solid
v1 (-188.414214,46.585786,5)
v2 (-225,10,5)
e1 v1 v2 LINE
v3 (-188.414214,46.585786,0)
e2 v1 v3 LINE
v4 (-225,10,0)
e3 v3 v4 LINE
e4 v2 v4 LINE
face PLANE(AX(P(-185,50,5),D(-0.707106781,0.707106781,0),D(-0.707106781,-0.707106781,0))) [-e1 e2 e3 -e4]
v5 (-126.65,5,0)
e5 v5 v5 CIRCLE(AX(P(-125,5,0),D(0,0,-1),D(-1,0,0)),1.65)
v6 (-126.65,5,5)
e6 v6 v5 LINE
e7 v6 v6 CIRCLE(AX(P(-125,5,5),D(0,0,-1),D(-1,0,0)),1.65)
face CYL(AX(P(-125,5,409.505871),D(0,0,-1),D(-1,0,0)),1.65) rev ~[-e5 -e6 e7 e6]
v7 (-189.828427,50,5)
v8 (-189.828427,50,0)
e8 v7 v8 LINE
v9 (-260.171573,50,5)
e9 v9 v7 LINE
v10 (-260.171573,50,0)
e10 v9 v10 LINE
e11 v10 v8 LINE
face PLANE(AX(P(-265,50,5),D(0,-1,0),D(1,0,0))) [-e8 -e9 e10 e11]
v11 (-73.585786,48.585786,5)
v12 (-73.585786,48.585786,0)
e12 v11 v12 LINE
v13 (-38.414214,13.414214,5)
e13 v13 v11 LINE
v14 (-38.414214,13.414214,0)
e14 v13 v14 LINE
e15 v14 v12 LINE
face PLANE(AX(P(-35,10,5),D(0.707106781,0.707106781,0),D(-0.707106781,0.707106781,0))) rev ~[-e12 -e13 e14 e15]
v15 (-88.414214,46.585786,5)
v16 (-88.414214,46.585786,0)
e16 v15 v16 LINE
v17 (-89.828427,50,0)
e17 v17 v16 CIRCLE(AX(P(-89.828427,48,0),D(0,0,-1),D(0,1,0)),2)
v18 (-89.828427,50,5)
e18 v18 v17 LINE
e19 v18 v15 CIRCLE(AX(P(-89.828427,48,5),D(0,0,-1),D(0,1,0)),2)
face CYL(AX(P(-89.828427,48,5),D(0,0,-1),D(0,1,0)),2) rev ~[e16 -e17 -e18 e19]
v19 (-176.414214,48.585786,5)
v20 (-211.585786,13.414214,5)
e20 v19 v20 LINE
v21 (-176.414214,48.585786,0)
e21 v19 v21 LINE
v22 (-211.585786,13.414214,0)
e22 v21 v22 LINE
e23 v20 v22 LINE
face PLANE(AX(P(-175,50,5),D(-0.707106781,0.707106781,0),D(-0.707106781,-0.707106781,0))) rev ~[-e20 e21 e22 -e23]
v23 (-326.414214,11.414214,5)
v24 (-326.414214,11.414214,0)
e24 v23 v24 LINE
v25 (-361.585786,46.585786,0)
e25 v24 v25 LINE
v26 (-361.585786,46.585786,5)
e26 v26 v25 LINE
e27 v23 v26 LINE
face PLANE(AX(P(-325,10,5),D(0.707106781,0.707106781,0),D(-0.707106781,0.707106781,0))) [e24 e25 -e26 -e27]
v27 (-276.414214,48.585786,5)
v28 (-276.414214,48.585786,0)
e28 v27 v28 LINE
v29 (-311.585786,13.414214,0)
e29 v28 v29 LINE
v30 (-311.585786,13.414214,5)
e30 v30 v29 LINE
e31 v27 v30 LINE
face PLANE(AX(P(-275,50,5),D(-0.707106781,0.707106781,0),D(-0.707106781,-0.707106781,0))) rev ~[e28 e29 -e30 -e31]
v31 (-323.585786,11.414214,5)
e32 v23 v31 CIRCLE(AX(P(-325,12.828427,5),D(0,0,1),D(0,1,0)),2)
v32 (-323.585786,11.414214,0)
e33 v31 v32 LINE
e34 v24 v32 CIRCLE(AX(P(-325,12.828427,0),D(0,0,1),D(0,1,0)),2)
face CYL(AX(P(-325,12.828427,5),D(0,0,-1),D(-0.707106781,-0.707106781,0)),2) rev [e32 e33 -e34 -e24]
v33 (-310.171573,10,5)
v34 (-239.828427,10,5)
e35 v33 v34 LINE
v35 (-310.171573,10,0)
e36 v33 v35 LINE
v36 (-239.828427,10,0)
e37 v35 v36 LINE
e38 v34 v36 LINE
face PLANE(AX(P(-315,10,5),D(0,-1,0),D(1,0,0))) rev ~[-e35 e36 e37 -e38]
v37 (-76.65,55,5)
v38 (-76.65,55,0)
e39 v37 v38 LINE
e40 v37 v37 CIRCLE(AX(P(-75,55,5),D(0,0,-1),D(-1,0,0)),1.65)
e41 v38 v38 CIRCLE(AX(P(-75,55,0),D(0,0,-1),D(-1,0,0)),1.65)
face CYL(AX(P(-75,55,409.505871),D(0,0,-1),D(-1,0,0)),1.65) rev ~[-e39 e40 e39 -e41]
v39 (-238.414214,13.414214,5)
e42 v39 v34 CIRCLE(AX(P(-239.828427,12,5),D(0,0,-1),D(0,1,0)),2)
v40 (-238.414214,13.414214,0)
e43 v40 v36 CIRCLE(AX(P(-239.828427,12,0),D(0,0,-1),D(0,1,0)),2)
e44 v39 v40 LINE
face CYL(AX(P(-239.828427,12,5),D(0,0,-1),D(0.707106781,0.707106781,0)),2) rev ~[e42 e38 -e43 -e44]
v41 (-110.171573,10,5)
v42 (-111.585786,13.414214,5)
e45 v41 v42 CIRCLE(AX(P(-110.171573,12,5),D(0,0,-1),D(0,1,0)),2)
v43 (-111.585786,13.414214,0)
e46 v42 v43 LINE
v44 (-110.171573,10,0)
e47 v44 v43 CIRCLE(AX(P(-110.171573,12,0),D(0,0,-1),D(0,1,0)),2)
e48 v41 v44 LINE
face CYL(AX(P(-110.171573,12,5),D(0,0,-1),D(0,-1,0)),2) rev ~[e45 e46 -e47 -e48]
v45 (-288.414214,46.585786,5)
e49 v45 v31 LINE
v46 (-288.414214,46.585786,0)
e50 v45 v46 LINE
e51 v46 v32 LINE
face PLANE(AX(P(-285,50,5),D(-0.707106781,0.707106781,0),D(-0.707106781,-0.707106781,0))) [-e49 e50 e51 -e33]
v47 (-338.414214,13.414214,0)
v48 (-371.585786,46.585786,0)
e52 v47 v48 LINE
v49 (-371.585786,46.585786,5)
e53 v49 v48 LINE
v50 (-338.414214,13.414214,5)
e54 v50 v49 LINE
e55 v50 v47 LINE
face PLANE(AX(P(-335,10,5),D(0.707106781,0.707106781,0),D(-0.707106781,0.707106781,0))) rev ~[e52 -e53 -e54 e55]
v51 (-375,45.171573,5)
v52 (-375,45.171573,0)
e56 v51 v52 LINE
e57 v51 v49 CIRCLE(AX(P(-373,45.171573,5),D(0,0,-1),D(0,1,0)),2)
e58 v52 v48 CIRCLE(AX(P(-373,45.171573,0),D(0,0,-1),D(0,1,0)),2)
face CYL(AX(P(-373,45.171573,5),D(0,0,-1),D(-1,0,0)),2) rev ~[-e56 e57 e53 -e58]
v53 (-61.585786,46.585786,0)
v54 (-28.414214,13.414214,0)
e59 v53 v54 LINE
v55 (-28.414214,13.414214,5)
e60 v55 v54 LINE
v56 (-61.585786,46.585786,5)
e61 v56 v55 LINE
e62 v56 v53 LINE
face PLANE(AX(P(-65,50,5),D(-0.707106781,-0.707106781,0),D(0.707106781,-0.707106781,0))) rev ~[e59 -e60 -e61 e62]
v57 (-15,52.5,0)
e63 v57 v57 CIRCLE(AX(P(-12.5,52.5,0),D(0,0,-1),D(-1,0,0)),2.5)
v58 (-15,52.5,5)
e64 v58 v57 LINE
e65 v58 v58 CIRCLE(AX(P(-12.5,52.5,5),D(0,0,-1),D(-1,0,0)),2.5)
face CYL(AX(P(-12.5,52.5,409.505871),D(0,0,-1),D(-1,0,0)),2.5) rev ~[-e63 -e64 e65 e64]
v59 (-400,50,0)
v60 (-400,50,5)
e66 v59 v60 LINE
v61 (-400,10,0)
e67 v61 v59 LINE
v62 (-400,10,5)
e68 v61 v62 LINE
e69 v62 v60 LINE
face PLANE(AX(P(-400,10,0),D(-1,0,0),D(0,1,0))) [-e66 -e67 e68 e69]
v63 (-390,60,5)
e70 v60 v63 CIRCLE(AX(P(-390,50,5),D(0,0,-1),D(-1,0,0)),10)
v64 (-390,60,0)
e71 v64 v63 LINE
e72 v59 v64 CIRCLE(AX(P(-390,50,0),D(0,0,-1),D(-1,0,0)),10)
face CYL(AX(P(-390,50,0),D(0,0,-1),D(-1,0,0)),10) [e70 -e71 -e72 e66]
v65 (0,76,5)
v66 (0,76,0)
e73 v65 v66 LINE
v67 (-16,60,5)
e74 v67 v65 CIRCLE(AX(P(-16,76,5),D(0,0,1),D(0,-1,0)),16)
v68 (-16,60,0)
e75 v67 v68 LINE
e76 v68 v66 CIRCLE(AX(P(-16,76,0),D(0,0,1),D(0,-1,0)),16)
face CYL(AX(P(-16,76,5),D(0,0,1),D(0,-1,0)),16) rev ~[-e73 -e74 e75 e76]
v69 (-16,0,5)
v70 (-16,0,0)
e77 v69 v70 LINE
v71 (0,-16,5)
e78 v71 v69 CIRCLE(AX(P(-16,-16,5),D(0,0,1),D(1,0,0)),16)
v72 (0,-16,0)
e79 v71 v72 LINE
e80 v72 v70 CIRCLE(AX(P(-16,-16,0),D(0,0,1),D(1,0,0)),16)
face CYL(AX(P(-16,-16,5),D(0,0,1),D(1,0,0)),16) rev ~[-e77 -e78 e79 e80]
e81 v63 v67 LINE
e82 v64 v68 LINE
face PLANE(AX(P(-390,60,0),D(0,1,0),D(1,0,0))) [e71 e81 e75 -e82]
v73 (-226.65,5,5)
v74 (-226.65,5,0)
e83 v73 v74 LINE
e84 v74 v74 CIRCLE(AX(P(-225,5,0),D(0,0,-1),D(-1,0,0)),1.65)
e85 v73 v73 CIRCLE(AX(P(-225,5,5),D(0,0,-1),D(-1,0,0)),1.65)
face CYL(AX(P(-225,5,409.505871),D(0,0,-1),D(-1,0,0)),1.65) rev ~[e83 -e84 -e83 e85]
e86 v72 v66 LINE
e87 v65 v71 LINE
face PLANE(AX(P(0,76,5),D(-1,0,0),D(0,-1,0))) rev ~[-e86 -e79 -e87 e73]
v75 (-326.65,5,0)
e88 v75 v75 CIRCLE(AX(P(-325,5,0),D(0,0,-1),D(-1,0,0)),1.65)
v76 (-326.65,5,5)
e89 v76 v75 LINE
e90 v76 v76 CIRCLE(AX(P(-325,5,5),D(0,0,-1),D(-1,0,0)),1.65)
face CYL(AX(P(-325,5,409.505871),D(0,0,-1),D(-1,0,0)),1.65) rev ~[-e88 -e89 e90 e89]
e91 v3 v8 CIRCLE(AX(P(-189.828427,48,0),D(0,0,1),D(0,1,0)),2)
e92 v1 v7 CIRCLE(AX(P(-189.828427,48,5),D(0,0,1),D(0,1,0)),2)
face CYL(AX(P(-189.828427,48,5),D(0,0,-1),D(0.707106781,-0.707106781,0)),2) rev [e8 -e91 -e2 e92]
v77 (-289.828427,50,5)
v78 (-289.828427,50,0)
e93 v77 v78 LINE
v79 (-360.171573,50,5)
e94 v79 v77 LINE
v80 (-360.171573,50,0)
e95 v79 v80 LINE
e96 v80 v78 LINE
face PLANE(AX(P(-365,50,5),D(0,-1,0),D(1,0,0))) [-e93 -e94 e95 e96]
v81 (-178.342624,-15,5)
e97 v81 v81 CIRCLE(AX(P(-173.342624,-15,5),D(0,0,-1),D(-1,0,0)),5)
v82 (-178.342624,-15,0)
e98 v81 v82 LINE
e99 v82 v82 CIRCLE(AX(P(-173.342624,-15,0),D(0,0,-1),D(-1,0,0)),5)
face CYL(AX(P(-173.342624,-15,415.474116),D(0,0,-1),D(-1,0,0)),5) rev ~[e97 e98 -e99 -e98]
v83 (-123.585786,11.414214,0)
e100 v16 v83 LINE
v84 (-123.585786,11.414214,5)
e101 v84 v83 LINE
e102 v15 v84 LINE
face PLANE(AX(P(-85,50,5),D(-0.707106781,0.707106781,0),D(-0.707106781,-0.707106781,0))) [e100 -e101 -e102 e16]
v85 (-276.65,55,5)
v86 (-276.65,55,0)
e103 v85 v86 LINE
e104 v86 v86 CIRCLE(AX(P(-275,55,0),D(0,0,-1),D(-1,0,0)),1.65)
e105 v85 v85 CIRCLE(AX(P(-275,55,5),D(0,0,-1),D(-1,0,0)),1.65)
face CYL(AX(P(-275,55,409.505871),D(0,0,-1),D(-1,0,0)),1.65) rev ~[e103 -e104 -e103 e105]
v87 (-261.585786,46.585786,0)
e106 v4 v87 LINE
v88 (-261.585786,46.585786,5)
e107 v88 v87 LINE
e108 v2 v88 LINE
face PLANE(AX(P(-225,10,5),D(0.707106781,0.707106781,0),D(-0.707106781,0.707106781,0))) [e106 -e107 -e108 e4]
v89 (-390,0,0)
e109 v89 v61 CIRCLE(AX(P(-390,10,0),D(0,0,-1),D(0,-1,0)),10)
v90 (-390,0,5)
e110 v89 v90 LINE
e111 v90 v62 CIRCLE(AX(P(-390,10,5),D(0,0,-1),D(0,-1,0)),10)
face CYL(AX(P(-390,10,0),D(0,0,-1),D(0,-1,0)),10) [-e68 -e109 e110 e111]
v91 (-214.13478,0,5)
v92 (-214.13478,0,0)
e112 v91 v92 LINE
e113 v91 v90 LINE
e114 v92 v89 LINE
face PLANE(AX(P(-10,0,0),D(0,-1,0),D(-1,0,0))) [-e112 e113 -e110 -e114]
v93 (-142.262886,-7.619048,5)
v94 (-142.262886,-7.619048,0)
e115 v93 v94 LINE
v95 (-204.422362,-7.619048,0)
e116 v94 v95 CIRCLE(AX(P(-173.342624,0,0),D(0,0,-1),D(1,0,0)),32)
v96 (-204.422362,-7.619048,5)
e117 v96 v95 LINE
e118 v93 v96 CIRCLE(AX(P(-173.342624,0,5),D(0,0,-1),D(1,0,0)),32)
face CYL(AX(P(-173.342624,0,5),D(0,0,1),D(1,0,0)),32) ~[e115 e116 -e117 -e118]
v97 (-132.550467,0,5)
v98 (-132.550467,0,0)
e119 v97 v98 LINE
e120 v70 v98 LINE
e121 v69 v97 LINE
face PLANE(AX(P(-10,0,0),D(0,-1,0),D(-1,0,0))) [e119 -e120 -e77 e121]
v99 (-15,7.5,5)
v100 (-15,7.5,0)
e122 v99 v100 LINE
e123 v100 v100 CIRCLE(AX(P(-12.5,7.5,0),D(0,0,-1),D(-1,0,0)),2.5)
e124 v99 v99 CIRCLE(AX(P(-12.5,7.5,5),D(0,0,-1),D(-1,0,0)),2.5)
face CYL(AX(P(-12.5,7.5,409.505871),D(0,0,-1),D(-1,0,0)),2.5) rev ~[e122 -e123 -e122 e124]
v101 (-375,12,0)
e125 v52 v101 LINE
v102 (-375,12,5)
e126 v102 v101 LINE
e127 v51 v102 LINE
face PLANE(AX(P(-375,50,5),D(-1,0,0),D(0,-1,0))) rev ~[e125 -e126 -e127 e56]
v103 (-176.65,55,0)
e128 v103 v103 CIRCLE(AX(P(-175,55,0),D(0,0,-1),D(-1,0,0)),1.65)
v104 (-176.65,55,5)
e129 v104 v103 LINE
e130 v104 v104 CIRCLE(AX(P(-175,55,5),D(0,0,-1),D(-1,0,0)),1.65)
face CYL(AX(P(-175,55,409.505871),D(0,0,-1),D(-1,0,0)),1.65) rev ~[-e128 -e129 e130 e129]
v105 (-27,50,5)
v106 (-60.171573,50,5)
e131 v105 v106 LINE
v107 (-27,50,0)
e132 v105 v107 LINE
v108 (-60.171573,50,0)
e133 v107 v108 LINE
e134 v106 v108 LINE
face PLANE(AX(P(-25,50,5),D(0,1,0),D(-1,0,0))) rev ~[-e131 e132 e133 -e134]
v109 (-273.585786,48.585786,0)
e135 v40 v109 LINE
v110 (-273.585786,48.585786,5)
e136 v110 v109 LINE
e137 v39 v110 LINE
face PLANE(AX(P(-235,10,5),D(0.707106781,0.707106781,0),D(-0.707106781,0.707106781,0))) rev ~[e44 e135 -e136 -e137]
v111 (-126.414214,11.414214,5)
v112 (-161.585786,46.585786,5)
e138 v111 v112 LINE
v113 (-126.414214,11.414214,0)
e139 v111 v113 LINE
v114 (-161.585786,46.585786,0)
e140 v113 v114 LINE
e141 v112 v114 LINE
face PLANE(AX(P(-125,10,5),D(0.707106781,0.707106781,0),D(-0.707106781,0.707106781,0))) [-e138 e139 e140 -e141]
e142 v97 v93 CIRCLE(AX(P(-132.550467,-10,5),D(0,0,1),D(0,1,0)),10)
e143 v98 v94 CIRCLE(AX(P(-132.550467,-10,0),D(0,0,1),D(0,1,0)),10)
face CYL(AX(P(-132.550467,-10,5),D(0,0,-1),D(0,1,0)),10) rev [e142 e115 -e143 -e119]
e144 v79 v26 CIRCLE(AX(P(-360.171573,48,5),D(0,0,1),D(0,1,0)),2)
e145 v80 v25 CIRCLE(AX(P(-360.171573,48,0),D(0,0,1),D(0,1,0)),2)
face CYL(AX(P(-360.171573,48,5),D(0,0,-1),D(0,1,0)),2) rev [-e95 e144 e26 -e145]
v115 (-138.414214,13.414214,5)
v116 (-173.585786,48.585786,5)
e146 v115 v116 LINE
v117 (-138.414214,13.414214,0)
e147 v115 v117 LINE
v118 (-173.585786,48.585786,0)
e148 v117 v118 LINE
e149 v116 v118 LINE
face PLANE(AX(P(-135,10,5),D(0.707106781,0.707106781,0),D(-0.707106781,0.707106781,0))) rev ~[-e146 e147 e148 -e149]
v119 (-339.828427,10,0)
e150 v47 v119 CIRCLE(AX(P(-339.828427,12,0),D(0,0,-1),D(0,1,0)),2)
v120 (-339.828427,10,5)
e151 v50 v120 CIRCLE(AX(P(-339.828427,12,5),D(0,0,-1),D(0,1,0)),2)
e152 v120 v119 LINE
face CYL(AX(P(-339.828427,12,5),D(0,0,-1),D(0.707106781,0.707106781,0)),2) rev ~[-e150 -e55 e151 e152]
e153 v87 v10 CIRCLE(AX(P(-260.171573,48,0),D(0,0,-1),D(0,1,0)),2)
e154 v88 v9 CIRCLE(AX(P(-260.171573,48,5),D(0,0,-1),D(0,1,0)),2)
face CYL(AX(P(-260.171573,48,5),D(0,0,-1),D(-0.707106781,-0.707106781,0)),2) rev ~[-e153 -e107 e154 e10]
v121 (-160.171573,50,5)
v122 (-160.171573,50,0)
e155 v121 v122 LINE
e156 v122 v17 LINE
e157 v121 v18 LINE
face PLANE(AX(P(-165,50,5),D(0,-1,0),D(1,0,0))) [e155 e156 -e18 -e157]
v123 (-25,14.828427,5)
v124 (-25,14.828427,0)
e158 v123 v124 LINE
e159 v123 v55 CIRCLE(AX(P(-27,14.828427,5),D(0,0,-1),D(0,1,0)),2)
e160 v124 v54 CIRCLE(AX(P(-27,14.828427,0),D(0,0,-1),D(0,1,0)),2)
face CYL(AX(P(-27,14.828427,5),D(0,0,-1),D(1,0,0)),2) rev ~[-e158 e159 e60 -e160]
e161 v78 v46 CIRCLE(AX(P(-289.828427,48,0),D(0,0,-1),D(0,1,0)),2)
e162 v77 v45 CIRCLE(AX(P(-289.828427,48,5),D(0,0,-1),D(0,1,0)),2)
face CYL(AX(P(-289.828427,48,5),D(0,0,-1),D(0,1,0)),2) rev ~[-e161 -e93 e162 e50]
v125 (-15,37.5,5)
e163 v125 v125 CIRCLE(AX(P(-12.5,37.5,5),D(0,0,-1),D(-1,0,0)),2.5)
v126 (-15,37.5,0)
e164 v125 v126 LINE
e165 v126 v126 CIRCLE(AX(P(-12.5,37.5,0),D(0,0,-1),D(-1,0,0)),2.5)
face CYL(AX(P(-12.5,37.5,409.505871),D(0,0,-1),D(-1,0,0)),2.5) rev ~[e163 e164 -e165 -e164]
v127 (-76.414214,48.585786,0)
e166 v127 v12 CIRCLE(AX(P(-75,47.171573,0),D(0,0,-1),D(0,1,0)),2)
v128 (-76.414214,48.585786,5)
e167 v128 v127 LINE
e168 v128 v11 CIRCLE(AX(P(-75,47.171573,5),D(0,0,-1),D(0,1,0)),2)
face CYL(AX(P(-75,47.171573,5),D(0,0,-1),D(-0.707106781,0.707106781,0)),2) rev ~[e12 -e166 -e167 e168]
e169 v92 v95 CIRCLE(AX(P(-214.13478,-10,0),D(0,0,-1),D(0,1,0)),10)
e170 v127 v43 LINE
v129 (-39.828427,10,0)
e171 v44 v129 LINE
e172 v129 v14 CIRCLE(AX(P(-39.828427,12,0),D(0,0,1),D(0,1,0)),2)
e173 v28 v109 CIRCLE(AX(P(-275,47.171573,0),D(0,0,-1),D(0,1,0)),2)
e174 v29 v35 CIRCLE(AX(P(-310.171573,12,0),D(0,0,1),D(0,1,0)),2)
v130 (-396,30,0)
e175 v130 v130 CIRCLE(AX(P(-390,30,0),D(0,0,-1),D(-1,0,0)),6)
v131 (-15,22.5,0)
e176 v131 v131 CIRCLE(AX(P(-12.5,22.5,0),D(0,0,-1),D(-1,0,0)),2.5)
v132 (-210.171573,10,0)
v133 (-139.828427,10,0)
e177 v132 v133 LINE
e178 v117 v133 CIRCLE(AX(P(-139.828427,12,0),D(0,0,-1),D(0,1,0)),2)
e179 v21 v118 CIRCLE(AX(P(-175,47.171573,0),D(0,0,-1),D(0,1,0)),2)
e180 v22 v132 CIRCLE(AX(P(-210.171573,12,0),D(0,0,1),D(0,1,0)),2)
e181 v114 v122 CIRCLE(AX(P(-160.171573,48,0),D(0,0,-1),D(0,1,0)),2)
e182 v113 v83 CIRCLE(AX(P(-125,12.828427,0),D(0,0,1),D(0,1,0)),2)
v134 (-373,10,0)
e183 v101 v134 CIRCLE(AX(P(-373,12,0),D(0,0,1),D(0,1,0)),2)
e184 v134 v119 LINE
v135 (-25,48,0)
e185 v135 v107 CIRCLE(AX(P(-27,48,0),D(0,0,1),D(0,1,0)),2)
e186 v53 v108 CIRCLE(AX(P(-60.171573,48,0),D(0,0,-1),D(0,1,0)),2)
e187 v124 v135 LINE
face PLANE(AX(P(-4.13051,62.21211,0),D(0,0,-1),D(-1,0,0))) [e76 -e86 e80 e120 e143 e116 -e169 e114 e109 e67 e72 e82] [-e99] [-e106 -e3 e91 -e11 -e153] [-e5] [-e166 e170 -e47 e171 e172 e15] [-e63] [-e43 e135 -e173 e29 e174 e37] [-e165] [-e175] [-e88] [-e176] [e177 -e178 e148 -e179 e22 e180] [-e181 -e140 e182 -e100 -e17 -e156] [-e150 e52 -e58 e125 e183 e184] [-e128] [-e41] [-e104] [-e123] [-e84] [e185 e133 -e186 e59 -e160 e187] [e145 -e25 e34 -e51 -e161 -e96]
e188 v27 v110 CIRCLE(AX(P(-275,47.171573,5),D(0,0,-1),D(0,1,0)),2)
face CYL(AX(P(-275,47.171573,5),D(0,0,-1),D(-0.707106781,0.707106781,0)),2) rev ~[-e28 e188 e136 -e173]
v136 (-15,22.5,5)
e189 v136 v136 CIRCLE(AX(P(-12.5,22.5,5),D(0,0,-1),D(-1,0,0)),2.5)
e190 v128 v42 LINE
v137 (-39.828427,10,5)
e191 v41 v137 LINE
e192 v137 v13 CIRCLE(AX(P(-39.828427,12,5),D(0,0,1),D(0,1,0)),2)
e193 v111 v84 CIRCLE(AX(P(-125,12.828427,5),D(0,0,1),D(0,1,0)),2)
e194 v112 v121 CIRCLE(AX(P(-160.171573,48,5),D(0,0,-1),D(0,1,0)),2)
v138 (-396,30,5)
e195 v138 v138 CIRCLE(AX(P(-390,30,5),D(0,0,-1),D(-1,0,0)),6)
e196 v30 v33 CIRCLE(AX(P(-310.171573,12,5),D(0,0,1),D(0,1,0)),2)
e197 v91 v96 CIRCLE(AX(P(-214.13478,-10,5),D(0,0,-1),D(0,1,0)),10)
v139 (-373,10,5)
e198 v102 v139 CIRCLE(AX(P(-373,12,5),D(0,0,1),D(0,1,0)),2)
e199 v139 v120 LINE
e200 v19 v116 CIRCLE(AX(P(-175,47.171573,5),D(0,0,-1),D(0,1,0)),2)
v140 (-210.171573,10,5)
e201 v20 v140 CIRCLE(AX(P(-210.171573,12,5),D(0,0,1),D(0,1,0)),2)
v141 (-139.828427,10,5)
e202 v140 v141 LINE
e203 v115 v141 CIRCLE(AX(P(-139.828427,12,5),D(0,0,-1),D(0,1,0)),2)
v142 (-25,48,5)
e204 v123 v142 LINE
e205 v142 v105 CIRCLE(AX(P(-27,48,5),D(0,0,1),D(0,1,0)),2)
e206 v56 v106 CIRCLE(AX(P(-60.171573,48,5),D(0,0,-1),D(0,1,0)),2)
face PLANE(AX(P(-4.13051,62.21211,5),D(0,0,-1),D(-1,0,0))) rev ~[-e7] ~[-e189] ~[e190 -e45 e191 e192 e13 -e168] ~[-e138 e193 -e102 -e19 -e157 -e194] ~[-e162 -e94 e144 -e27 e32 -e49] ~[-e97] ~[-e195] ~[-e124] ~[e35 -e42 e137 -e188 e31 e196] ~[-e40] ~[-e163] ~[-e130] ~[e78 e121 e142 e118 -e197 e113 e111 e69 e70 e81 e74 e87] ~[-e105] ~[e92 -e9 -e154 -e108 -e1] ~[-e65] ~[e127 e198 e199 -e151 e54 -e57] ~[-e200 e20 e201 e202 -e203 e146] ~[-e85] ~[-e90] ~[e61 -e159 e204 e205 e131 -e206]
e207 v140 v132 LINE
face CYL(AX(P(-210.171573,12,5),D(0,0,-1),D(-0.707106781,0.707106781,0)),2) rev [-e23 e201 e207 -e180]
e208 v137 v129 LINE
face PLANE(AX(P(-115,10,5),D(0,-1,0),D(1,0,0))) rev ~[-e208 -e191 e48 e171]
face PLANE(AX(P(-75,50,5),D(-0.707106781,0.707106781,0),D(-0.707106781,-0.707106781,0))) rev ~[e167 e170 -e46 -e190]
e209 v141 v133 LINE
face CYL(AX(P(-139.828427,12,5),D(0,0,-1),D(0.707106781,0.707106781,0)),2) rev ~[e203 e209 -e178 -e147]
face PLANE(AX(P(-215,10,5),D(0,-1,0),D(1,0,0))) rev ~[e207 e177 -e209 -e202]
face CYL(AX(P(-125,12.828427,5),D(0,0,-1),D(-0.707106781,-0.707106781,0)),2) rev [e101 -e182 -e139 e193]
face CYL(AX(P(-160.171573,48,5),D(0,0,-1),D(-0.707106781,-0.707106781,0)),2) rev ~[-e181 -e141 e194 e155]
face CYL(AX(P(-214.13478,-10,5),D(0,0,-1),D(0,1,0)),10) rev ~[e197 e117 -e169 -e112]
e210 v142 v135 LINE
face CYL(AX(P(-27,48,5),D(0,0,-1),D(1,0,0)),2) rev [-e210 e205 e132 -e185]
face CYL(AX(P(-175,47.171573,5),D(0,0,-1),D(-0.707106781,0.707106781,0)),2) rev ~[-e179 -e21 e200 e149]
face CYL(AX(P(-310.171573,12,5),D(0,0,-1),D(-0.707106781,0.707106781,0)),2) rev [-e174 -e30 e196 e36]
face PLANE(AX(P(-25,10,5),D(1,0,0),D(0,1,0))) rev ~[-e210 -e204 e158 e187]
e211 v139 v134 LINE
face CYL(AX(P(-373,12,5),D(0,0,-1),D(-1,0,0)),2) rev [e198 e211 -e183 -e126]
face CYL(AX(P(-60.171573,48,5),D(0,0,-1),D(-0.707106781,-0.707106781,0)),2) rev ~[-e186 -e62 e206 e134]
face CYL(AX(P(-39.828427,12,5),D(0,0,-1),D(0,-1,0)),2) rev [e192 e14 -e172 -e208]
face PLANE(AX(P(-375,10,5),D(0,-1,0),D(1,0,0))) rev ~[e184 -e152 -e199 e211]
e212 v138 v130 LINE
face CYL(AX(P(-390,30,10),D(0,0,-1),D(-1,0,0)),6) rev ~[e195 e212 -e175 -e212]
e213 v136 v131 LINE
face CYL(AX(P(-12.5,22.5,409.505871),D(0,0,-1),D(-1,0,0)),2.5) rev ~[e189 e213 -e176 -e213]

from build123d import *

# Parameters (mm, degrees)
BOSS_EXTRUDE1_DEPTH        = 5
CUT_EXTRUDE2_DEPTH         = 5
CUT_EXTRUDE3_REACH         = 7
FILLET1_R                  = 2
M6X1_0_TAPPED_HOLE1_D      = 5
M4X0_7_TAPPED_HOLE1_D      = 3.3
BOSS_EXTRUDE2_DEPTH        = 5
FILLET2_R                  = 10
F_10_0MM_DOWEL_HOLE1_D     = 10
BOSS_EXTRUDE3_DEPTH        = 5
F_12_0MM_DOWEL_HOLE1_D     = 12
F_12_0MM_DOWEL_HOLE1_DEPTH = 5


with BuildPart() as part:
    # Sketch1 → Boss-Extrude1 (new body)
    with BuildSketch(Plane.XY):
        with BuildLine():
            Line((-10, 0), (-390, 0))
            ThreePointArc((-390, 0), (-397.071067812, 2.928932188), (-400, 10))
            Line((-400, 10), (-400, 50))
            ThreePointArc((-400, 50), (-397.071067812, 57.071067812), (-390, 60))
            Line((-390, 60), (-10, 60))
            ThreePointArc((-10, 60), (-2.928932188, 57.071067812), (0, 50))
            Line((0, 50), (0, 10))
            ThreePointArc((0, 10), (-2.928932188, 2.928932188), (-10, 0))
        make_face()
    extrude(amount=BOSS_EXTRUDE1_DEPTH)

    # Sketch2 → Cut-Extrude2 (cut)
    with BuildSketch(Plane.XY.offset(5)):
        Polygon((-375, 10), (-365, 10), (-365, 40), (-375, 50), align=None)
        Polygon((-365, 40), (-365, 10), (-355, 10), (-355, 30), align=None)
        Polygon((-355, 30), (-355, 10), (-345, 10), (-345, 20), align=None)
        Polygon((-345, 20), (-345, 10), (-335, 10), align=None)
        Polygon((-305, 20), (-315, 10), (-305, 10), align=None)
        Polygon((-305, 20), (-305, 10), (-295, 10), (-295, 30), align=None)
        Polygon((-295, 30), (-295, 10), (-285, 10), (-285, 40), align=None)
        Polygon((-285, 40), (-285, 10), (-275, 10), (-275, 50), align=None)
        Polygon((-275, 50), (-275, 10), (-265, 10), (-265, 40), align=None)
        Polygon((-265, 40), (-265, 10), (-255, 10), (-255, 30), align=None)
        Polygon((-255, 30), (-255, 10), (-245, 10), (-245, 20), align=None)
        Polygon((-245, 20), (-245, 10), (-235, 10), align=None)
        Polygon((-205, 20), (-215, 10), (-205, 10), align=None)
        Polygon((-205, 20), (-205, 10), (-195, 10), (-195, 30), align=None)
        Polygon((-195, 30), (-195, 10), (-185, 10), (-185, 40), align=None)
        Polygon((-185, 40), (-185, 10), (-175, 10), (-175, 50), align=None)
        Polygon((-175, 50), (-175, 10), (-165, 10), (-165, 40), align=None)
        Polygon((-165, 40), (-165, 10), (-155, 10), (-155, 30), align=None)
        Polygon((-155, 30), (-155, 10), (-145, 10), (-145, 20), align=None)
        Polygon((-145, 20), (-145, 10), (-135, 10), align=None)
        Polygon((-45, 20), (-45, 10), (-35, 10), align=None)
        Polygon((-55, 30), (-55, 10), (-45, 10), (-45, 20), align=None)
        Polygon((-65, 40), (-65, 10), (-55, 10), (-55, 30), align=None)
        Polygon((-75, 50), (-75, 10), (-65, 10), (-65, 40), align=None)
        Polygon((-85, 40), (-85, 10), (-75, 10), (-75, 50), align=None)
        Polygon((-95, 30), (-95, 10), (-85, 10), (-85, 40), align=None)
        Polygon((-105, 20), (-105, 10), (-95, 10), (-95, 30), align=None)
        Polygon((-105, 20), (-115, 10), (-105, 10), align=None)
        Polygon((-25, 50), (-35, 50), (-35, 20), (-25, 10), align=None)
        Polygon((-35, 50), (-45, 50), (-45, 30), (-35, 20), align=None)
        Polygon((-45, 50), (-55, 50), (-55, 40), (-45, 30), align=None)
        Polygon((-55, 50), (-65, 50), (-55, 40), align=None)
    extrude(amount=-CUT_EXTRUDE2_DEPTH, mode=Mode.SUBTRACT)

    # Sketch3 → Cut-Extrude3 (cut, up to next)
    with BuildSketch(Plane.XY.offset(5), mode=Mode.PRIVATE) as cut_extrude3_sk1:
        Polygon((-365, 50), (-285, 50), (-325, 10), align=None)
    cut_extrude3_tool1 = extrude(cut_extrude3_sk1.sketch, amount=-CUT_EXTRUDE3_REACH, mode=Mode.PRIVATE) & part.part
    add(cut_extrude3_tool1.solids().sort_by_distance((-325, 36.666667, 5))[0], mode=Mode.SUBTRACT)
    # Sketch3 → Cut-Extrude3 (cut, up to next)
    with BuildSketch(Plane.XY.offset(5), mode=Mode.PRIVATE) as cut_extrude3_sk2:
        Polygon((-225, 10), (-265, 50), (-185, 50), align=None)
    cut_extrude3_tool2 = extrude(cut_extrude3_sk2.sketch, amount=-CUT_EXTRUDE3_REACH, mode=Mode.PRIVATE) & part.part
    add(cut_extrude3_tool2.solids().sort_by_distance((-225, 36.666667, 5))[0], mode=Mode.SUBTRACT)
    # Sketch3 → Cut-Extrude3 (cut, up to next)
    with BuildSketch(Plane.XY.offset(5), mode=Mode.PRIVATE) as cut_extrude3_sk3:
        Polygon((-125, 10), (-165, 50), (-85, 50), align=None)
    cut_extrude3_tool3 = extrude(cut_extrude3_sk3.sketch, amount=-CUT_EXTRUDE3_REACH, mode=Mode.PRIVATE) & part.part
    add(cut_extrude3_tool3.solids().sort_by_distance((-125, 36.666667, 5))[0], mode=Mode.SUBTRACT)

    # Fillet1
    fillet1_edges = [part.edges().sort_by_distance(p)[0] for p in [
        (-325, 10, 2.5),
        (-365, 50, 2.5),
        (-285, 50, 2.5),
        (-265, 50, 2.5),
        (-185, 50, 2.5),
        (-165, 50, 2.5),
        (-85, 50, 2.5),
        (-125, 10, 2.5),
        (-375, 50, 2.5),
        (-335, 10, 2.5),
        (-375, 10, 2.5),
        (-315, 10, 2.5),
        (-275, 50, 2.5),
        (-235, 10, 2.5),
        (-215, 10, 2.5),
        (-175, 50, 2.5),
        (-135, 10, 2.5),
        (-65, 50, 2.5),
        (-25, 50, 2.5),
        (-25, 10, 2.5),
        (-75, 50, 2.5),
        (-35, 10, 2.5),
        (-115, 10, 2.5),
    ]]
    fillet(fillet1_edges, radius=FILLET1_R)

    # M6x1.0 Tapped Hole1 (through all)
    with Locations(Plane.XY.offset(5)):
        with Locations((-12.5, 52.5), (-12.5, 37.5), (-12.5, 22.5), (-12.5, 7.5)):
            Hole(M6X1_0_TAPPED_HOLE1_D / 2)

    # M4x0.7 Tapped Hole1 (through all)
    with Locations(Plane.XY.offset(5)):
        with Locations((-225, 5), (-175, 55), (-125, 5), (-75, 55), (-275, 55), (-325, 5)):
            Hole(M4X0_7_TAPPED_HOLE1_D / 2)

    # Sketch9 → Boss-Extrude2 (add)
    with BuildSketch(Plane.XY.offset(5)):
        with BuildLine():
            Line((-205.342623586, 0), (-141.342623586, 0))
            ThreePointArc((-141.342623586, 0), (-173.342623586, -32), (-205.342623586, 0))
        make_face()
    extrude(amount=-BOSS_EXTRUDE2_DEPTH)

    # Fillet2
    fillet2_edges = [part.edges().sort_by_distance(p)[0] for p in [
        (-205.342623586, 0, 2.5),
        (-141.342623586, 0, 2.5),
    ]]
    fillet(fillet2_edges, radius=FILLET2_R)

    # Ø10.0mm Dowel Hole1 (through all)
    with Locations(Plane.XY.offset(5)):
        with Locations((-173.342623586, -15)):
            Hole(F_10_0MM_DOWEL_HOLE1_D / 2)

    # Sketch12 → Boss-Extrude3 (add)
    with BuildSketch(Plane.XY.offset(5)):
        with BuildLine():
            Line((0, 76), (0, 50))
            ThreePointArc((0, 50), (-6.566018868, 57.294369811), (-16, 60))
            ThreePointArc((-16, 60), (-4.686291501, 64.686291501), (0, 76))
        make_face()
        with BuildLine():
            Line((0, 10), (0, -16))
            ThreePointArc((0, -16), (-4.686291501, -4.686291501), (-16, 0))
            ThreePointArc((-16, 0), (-6.566018868, 2.705630189), (0, 10))
        make_face()
    extrude(amount=-BOSS_EXTRUDE3_DEPTH)

    # Ø12.0mm Dowel Hole1
    with Locations(Plane.XY.offset(5)):
        with Locations((-390, 30)):
            Hole(F_12_0MM_DOWEL_HOLE1_D / 2, depth=F_12_0MM_DOWEL_HOLE1_DEPTH)


solid = part.part
